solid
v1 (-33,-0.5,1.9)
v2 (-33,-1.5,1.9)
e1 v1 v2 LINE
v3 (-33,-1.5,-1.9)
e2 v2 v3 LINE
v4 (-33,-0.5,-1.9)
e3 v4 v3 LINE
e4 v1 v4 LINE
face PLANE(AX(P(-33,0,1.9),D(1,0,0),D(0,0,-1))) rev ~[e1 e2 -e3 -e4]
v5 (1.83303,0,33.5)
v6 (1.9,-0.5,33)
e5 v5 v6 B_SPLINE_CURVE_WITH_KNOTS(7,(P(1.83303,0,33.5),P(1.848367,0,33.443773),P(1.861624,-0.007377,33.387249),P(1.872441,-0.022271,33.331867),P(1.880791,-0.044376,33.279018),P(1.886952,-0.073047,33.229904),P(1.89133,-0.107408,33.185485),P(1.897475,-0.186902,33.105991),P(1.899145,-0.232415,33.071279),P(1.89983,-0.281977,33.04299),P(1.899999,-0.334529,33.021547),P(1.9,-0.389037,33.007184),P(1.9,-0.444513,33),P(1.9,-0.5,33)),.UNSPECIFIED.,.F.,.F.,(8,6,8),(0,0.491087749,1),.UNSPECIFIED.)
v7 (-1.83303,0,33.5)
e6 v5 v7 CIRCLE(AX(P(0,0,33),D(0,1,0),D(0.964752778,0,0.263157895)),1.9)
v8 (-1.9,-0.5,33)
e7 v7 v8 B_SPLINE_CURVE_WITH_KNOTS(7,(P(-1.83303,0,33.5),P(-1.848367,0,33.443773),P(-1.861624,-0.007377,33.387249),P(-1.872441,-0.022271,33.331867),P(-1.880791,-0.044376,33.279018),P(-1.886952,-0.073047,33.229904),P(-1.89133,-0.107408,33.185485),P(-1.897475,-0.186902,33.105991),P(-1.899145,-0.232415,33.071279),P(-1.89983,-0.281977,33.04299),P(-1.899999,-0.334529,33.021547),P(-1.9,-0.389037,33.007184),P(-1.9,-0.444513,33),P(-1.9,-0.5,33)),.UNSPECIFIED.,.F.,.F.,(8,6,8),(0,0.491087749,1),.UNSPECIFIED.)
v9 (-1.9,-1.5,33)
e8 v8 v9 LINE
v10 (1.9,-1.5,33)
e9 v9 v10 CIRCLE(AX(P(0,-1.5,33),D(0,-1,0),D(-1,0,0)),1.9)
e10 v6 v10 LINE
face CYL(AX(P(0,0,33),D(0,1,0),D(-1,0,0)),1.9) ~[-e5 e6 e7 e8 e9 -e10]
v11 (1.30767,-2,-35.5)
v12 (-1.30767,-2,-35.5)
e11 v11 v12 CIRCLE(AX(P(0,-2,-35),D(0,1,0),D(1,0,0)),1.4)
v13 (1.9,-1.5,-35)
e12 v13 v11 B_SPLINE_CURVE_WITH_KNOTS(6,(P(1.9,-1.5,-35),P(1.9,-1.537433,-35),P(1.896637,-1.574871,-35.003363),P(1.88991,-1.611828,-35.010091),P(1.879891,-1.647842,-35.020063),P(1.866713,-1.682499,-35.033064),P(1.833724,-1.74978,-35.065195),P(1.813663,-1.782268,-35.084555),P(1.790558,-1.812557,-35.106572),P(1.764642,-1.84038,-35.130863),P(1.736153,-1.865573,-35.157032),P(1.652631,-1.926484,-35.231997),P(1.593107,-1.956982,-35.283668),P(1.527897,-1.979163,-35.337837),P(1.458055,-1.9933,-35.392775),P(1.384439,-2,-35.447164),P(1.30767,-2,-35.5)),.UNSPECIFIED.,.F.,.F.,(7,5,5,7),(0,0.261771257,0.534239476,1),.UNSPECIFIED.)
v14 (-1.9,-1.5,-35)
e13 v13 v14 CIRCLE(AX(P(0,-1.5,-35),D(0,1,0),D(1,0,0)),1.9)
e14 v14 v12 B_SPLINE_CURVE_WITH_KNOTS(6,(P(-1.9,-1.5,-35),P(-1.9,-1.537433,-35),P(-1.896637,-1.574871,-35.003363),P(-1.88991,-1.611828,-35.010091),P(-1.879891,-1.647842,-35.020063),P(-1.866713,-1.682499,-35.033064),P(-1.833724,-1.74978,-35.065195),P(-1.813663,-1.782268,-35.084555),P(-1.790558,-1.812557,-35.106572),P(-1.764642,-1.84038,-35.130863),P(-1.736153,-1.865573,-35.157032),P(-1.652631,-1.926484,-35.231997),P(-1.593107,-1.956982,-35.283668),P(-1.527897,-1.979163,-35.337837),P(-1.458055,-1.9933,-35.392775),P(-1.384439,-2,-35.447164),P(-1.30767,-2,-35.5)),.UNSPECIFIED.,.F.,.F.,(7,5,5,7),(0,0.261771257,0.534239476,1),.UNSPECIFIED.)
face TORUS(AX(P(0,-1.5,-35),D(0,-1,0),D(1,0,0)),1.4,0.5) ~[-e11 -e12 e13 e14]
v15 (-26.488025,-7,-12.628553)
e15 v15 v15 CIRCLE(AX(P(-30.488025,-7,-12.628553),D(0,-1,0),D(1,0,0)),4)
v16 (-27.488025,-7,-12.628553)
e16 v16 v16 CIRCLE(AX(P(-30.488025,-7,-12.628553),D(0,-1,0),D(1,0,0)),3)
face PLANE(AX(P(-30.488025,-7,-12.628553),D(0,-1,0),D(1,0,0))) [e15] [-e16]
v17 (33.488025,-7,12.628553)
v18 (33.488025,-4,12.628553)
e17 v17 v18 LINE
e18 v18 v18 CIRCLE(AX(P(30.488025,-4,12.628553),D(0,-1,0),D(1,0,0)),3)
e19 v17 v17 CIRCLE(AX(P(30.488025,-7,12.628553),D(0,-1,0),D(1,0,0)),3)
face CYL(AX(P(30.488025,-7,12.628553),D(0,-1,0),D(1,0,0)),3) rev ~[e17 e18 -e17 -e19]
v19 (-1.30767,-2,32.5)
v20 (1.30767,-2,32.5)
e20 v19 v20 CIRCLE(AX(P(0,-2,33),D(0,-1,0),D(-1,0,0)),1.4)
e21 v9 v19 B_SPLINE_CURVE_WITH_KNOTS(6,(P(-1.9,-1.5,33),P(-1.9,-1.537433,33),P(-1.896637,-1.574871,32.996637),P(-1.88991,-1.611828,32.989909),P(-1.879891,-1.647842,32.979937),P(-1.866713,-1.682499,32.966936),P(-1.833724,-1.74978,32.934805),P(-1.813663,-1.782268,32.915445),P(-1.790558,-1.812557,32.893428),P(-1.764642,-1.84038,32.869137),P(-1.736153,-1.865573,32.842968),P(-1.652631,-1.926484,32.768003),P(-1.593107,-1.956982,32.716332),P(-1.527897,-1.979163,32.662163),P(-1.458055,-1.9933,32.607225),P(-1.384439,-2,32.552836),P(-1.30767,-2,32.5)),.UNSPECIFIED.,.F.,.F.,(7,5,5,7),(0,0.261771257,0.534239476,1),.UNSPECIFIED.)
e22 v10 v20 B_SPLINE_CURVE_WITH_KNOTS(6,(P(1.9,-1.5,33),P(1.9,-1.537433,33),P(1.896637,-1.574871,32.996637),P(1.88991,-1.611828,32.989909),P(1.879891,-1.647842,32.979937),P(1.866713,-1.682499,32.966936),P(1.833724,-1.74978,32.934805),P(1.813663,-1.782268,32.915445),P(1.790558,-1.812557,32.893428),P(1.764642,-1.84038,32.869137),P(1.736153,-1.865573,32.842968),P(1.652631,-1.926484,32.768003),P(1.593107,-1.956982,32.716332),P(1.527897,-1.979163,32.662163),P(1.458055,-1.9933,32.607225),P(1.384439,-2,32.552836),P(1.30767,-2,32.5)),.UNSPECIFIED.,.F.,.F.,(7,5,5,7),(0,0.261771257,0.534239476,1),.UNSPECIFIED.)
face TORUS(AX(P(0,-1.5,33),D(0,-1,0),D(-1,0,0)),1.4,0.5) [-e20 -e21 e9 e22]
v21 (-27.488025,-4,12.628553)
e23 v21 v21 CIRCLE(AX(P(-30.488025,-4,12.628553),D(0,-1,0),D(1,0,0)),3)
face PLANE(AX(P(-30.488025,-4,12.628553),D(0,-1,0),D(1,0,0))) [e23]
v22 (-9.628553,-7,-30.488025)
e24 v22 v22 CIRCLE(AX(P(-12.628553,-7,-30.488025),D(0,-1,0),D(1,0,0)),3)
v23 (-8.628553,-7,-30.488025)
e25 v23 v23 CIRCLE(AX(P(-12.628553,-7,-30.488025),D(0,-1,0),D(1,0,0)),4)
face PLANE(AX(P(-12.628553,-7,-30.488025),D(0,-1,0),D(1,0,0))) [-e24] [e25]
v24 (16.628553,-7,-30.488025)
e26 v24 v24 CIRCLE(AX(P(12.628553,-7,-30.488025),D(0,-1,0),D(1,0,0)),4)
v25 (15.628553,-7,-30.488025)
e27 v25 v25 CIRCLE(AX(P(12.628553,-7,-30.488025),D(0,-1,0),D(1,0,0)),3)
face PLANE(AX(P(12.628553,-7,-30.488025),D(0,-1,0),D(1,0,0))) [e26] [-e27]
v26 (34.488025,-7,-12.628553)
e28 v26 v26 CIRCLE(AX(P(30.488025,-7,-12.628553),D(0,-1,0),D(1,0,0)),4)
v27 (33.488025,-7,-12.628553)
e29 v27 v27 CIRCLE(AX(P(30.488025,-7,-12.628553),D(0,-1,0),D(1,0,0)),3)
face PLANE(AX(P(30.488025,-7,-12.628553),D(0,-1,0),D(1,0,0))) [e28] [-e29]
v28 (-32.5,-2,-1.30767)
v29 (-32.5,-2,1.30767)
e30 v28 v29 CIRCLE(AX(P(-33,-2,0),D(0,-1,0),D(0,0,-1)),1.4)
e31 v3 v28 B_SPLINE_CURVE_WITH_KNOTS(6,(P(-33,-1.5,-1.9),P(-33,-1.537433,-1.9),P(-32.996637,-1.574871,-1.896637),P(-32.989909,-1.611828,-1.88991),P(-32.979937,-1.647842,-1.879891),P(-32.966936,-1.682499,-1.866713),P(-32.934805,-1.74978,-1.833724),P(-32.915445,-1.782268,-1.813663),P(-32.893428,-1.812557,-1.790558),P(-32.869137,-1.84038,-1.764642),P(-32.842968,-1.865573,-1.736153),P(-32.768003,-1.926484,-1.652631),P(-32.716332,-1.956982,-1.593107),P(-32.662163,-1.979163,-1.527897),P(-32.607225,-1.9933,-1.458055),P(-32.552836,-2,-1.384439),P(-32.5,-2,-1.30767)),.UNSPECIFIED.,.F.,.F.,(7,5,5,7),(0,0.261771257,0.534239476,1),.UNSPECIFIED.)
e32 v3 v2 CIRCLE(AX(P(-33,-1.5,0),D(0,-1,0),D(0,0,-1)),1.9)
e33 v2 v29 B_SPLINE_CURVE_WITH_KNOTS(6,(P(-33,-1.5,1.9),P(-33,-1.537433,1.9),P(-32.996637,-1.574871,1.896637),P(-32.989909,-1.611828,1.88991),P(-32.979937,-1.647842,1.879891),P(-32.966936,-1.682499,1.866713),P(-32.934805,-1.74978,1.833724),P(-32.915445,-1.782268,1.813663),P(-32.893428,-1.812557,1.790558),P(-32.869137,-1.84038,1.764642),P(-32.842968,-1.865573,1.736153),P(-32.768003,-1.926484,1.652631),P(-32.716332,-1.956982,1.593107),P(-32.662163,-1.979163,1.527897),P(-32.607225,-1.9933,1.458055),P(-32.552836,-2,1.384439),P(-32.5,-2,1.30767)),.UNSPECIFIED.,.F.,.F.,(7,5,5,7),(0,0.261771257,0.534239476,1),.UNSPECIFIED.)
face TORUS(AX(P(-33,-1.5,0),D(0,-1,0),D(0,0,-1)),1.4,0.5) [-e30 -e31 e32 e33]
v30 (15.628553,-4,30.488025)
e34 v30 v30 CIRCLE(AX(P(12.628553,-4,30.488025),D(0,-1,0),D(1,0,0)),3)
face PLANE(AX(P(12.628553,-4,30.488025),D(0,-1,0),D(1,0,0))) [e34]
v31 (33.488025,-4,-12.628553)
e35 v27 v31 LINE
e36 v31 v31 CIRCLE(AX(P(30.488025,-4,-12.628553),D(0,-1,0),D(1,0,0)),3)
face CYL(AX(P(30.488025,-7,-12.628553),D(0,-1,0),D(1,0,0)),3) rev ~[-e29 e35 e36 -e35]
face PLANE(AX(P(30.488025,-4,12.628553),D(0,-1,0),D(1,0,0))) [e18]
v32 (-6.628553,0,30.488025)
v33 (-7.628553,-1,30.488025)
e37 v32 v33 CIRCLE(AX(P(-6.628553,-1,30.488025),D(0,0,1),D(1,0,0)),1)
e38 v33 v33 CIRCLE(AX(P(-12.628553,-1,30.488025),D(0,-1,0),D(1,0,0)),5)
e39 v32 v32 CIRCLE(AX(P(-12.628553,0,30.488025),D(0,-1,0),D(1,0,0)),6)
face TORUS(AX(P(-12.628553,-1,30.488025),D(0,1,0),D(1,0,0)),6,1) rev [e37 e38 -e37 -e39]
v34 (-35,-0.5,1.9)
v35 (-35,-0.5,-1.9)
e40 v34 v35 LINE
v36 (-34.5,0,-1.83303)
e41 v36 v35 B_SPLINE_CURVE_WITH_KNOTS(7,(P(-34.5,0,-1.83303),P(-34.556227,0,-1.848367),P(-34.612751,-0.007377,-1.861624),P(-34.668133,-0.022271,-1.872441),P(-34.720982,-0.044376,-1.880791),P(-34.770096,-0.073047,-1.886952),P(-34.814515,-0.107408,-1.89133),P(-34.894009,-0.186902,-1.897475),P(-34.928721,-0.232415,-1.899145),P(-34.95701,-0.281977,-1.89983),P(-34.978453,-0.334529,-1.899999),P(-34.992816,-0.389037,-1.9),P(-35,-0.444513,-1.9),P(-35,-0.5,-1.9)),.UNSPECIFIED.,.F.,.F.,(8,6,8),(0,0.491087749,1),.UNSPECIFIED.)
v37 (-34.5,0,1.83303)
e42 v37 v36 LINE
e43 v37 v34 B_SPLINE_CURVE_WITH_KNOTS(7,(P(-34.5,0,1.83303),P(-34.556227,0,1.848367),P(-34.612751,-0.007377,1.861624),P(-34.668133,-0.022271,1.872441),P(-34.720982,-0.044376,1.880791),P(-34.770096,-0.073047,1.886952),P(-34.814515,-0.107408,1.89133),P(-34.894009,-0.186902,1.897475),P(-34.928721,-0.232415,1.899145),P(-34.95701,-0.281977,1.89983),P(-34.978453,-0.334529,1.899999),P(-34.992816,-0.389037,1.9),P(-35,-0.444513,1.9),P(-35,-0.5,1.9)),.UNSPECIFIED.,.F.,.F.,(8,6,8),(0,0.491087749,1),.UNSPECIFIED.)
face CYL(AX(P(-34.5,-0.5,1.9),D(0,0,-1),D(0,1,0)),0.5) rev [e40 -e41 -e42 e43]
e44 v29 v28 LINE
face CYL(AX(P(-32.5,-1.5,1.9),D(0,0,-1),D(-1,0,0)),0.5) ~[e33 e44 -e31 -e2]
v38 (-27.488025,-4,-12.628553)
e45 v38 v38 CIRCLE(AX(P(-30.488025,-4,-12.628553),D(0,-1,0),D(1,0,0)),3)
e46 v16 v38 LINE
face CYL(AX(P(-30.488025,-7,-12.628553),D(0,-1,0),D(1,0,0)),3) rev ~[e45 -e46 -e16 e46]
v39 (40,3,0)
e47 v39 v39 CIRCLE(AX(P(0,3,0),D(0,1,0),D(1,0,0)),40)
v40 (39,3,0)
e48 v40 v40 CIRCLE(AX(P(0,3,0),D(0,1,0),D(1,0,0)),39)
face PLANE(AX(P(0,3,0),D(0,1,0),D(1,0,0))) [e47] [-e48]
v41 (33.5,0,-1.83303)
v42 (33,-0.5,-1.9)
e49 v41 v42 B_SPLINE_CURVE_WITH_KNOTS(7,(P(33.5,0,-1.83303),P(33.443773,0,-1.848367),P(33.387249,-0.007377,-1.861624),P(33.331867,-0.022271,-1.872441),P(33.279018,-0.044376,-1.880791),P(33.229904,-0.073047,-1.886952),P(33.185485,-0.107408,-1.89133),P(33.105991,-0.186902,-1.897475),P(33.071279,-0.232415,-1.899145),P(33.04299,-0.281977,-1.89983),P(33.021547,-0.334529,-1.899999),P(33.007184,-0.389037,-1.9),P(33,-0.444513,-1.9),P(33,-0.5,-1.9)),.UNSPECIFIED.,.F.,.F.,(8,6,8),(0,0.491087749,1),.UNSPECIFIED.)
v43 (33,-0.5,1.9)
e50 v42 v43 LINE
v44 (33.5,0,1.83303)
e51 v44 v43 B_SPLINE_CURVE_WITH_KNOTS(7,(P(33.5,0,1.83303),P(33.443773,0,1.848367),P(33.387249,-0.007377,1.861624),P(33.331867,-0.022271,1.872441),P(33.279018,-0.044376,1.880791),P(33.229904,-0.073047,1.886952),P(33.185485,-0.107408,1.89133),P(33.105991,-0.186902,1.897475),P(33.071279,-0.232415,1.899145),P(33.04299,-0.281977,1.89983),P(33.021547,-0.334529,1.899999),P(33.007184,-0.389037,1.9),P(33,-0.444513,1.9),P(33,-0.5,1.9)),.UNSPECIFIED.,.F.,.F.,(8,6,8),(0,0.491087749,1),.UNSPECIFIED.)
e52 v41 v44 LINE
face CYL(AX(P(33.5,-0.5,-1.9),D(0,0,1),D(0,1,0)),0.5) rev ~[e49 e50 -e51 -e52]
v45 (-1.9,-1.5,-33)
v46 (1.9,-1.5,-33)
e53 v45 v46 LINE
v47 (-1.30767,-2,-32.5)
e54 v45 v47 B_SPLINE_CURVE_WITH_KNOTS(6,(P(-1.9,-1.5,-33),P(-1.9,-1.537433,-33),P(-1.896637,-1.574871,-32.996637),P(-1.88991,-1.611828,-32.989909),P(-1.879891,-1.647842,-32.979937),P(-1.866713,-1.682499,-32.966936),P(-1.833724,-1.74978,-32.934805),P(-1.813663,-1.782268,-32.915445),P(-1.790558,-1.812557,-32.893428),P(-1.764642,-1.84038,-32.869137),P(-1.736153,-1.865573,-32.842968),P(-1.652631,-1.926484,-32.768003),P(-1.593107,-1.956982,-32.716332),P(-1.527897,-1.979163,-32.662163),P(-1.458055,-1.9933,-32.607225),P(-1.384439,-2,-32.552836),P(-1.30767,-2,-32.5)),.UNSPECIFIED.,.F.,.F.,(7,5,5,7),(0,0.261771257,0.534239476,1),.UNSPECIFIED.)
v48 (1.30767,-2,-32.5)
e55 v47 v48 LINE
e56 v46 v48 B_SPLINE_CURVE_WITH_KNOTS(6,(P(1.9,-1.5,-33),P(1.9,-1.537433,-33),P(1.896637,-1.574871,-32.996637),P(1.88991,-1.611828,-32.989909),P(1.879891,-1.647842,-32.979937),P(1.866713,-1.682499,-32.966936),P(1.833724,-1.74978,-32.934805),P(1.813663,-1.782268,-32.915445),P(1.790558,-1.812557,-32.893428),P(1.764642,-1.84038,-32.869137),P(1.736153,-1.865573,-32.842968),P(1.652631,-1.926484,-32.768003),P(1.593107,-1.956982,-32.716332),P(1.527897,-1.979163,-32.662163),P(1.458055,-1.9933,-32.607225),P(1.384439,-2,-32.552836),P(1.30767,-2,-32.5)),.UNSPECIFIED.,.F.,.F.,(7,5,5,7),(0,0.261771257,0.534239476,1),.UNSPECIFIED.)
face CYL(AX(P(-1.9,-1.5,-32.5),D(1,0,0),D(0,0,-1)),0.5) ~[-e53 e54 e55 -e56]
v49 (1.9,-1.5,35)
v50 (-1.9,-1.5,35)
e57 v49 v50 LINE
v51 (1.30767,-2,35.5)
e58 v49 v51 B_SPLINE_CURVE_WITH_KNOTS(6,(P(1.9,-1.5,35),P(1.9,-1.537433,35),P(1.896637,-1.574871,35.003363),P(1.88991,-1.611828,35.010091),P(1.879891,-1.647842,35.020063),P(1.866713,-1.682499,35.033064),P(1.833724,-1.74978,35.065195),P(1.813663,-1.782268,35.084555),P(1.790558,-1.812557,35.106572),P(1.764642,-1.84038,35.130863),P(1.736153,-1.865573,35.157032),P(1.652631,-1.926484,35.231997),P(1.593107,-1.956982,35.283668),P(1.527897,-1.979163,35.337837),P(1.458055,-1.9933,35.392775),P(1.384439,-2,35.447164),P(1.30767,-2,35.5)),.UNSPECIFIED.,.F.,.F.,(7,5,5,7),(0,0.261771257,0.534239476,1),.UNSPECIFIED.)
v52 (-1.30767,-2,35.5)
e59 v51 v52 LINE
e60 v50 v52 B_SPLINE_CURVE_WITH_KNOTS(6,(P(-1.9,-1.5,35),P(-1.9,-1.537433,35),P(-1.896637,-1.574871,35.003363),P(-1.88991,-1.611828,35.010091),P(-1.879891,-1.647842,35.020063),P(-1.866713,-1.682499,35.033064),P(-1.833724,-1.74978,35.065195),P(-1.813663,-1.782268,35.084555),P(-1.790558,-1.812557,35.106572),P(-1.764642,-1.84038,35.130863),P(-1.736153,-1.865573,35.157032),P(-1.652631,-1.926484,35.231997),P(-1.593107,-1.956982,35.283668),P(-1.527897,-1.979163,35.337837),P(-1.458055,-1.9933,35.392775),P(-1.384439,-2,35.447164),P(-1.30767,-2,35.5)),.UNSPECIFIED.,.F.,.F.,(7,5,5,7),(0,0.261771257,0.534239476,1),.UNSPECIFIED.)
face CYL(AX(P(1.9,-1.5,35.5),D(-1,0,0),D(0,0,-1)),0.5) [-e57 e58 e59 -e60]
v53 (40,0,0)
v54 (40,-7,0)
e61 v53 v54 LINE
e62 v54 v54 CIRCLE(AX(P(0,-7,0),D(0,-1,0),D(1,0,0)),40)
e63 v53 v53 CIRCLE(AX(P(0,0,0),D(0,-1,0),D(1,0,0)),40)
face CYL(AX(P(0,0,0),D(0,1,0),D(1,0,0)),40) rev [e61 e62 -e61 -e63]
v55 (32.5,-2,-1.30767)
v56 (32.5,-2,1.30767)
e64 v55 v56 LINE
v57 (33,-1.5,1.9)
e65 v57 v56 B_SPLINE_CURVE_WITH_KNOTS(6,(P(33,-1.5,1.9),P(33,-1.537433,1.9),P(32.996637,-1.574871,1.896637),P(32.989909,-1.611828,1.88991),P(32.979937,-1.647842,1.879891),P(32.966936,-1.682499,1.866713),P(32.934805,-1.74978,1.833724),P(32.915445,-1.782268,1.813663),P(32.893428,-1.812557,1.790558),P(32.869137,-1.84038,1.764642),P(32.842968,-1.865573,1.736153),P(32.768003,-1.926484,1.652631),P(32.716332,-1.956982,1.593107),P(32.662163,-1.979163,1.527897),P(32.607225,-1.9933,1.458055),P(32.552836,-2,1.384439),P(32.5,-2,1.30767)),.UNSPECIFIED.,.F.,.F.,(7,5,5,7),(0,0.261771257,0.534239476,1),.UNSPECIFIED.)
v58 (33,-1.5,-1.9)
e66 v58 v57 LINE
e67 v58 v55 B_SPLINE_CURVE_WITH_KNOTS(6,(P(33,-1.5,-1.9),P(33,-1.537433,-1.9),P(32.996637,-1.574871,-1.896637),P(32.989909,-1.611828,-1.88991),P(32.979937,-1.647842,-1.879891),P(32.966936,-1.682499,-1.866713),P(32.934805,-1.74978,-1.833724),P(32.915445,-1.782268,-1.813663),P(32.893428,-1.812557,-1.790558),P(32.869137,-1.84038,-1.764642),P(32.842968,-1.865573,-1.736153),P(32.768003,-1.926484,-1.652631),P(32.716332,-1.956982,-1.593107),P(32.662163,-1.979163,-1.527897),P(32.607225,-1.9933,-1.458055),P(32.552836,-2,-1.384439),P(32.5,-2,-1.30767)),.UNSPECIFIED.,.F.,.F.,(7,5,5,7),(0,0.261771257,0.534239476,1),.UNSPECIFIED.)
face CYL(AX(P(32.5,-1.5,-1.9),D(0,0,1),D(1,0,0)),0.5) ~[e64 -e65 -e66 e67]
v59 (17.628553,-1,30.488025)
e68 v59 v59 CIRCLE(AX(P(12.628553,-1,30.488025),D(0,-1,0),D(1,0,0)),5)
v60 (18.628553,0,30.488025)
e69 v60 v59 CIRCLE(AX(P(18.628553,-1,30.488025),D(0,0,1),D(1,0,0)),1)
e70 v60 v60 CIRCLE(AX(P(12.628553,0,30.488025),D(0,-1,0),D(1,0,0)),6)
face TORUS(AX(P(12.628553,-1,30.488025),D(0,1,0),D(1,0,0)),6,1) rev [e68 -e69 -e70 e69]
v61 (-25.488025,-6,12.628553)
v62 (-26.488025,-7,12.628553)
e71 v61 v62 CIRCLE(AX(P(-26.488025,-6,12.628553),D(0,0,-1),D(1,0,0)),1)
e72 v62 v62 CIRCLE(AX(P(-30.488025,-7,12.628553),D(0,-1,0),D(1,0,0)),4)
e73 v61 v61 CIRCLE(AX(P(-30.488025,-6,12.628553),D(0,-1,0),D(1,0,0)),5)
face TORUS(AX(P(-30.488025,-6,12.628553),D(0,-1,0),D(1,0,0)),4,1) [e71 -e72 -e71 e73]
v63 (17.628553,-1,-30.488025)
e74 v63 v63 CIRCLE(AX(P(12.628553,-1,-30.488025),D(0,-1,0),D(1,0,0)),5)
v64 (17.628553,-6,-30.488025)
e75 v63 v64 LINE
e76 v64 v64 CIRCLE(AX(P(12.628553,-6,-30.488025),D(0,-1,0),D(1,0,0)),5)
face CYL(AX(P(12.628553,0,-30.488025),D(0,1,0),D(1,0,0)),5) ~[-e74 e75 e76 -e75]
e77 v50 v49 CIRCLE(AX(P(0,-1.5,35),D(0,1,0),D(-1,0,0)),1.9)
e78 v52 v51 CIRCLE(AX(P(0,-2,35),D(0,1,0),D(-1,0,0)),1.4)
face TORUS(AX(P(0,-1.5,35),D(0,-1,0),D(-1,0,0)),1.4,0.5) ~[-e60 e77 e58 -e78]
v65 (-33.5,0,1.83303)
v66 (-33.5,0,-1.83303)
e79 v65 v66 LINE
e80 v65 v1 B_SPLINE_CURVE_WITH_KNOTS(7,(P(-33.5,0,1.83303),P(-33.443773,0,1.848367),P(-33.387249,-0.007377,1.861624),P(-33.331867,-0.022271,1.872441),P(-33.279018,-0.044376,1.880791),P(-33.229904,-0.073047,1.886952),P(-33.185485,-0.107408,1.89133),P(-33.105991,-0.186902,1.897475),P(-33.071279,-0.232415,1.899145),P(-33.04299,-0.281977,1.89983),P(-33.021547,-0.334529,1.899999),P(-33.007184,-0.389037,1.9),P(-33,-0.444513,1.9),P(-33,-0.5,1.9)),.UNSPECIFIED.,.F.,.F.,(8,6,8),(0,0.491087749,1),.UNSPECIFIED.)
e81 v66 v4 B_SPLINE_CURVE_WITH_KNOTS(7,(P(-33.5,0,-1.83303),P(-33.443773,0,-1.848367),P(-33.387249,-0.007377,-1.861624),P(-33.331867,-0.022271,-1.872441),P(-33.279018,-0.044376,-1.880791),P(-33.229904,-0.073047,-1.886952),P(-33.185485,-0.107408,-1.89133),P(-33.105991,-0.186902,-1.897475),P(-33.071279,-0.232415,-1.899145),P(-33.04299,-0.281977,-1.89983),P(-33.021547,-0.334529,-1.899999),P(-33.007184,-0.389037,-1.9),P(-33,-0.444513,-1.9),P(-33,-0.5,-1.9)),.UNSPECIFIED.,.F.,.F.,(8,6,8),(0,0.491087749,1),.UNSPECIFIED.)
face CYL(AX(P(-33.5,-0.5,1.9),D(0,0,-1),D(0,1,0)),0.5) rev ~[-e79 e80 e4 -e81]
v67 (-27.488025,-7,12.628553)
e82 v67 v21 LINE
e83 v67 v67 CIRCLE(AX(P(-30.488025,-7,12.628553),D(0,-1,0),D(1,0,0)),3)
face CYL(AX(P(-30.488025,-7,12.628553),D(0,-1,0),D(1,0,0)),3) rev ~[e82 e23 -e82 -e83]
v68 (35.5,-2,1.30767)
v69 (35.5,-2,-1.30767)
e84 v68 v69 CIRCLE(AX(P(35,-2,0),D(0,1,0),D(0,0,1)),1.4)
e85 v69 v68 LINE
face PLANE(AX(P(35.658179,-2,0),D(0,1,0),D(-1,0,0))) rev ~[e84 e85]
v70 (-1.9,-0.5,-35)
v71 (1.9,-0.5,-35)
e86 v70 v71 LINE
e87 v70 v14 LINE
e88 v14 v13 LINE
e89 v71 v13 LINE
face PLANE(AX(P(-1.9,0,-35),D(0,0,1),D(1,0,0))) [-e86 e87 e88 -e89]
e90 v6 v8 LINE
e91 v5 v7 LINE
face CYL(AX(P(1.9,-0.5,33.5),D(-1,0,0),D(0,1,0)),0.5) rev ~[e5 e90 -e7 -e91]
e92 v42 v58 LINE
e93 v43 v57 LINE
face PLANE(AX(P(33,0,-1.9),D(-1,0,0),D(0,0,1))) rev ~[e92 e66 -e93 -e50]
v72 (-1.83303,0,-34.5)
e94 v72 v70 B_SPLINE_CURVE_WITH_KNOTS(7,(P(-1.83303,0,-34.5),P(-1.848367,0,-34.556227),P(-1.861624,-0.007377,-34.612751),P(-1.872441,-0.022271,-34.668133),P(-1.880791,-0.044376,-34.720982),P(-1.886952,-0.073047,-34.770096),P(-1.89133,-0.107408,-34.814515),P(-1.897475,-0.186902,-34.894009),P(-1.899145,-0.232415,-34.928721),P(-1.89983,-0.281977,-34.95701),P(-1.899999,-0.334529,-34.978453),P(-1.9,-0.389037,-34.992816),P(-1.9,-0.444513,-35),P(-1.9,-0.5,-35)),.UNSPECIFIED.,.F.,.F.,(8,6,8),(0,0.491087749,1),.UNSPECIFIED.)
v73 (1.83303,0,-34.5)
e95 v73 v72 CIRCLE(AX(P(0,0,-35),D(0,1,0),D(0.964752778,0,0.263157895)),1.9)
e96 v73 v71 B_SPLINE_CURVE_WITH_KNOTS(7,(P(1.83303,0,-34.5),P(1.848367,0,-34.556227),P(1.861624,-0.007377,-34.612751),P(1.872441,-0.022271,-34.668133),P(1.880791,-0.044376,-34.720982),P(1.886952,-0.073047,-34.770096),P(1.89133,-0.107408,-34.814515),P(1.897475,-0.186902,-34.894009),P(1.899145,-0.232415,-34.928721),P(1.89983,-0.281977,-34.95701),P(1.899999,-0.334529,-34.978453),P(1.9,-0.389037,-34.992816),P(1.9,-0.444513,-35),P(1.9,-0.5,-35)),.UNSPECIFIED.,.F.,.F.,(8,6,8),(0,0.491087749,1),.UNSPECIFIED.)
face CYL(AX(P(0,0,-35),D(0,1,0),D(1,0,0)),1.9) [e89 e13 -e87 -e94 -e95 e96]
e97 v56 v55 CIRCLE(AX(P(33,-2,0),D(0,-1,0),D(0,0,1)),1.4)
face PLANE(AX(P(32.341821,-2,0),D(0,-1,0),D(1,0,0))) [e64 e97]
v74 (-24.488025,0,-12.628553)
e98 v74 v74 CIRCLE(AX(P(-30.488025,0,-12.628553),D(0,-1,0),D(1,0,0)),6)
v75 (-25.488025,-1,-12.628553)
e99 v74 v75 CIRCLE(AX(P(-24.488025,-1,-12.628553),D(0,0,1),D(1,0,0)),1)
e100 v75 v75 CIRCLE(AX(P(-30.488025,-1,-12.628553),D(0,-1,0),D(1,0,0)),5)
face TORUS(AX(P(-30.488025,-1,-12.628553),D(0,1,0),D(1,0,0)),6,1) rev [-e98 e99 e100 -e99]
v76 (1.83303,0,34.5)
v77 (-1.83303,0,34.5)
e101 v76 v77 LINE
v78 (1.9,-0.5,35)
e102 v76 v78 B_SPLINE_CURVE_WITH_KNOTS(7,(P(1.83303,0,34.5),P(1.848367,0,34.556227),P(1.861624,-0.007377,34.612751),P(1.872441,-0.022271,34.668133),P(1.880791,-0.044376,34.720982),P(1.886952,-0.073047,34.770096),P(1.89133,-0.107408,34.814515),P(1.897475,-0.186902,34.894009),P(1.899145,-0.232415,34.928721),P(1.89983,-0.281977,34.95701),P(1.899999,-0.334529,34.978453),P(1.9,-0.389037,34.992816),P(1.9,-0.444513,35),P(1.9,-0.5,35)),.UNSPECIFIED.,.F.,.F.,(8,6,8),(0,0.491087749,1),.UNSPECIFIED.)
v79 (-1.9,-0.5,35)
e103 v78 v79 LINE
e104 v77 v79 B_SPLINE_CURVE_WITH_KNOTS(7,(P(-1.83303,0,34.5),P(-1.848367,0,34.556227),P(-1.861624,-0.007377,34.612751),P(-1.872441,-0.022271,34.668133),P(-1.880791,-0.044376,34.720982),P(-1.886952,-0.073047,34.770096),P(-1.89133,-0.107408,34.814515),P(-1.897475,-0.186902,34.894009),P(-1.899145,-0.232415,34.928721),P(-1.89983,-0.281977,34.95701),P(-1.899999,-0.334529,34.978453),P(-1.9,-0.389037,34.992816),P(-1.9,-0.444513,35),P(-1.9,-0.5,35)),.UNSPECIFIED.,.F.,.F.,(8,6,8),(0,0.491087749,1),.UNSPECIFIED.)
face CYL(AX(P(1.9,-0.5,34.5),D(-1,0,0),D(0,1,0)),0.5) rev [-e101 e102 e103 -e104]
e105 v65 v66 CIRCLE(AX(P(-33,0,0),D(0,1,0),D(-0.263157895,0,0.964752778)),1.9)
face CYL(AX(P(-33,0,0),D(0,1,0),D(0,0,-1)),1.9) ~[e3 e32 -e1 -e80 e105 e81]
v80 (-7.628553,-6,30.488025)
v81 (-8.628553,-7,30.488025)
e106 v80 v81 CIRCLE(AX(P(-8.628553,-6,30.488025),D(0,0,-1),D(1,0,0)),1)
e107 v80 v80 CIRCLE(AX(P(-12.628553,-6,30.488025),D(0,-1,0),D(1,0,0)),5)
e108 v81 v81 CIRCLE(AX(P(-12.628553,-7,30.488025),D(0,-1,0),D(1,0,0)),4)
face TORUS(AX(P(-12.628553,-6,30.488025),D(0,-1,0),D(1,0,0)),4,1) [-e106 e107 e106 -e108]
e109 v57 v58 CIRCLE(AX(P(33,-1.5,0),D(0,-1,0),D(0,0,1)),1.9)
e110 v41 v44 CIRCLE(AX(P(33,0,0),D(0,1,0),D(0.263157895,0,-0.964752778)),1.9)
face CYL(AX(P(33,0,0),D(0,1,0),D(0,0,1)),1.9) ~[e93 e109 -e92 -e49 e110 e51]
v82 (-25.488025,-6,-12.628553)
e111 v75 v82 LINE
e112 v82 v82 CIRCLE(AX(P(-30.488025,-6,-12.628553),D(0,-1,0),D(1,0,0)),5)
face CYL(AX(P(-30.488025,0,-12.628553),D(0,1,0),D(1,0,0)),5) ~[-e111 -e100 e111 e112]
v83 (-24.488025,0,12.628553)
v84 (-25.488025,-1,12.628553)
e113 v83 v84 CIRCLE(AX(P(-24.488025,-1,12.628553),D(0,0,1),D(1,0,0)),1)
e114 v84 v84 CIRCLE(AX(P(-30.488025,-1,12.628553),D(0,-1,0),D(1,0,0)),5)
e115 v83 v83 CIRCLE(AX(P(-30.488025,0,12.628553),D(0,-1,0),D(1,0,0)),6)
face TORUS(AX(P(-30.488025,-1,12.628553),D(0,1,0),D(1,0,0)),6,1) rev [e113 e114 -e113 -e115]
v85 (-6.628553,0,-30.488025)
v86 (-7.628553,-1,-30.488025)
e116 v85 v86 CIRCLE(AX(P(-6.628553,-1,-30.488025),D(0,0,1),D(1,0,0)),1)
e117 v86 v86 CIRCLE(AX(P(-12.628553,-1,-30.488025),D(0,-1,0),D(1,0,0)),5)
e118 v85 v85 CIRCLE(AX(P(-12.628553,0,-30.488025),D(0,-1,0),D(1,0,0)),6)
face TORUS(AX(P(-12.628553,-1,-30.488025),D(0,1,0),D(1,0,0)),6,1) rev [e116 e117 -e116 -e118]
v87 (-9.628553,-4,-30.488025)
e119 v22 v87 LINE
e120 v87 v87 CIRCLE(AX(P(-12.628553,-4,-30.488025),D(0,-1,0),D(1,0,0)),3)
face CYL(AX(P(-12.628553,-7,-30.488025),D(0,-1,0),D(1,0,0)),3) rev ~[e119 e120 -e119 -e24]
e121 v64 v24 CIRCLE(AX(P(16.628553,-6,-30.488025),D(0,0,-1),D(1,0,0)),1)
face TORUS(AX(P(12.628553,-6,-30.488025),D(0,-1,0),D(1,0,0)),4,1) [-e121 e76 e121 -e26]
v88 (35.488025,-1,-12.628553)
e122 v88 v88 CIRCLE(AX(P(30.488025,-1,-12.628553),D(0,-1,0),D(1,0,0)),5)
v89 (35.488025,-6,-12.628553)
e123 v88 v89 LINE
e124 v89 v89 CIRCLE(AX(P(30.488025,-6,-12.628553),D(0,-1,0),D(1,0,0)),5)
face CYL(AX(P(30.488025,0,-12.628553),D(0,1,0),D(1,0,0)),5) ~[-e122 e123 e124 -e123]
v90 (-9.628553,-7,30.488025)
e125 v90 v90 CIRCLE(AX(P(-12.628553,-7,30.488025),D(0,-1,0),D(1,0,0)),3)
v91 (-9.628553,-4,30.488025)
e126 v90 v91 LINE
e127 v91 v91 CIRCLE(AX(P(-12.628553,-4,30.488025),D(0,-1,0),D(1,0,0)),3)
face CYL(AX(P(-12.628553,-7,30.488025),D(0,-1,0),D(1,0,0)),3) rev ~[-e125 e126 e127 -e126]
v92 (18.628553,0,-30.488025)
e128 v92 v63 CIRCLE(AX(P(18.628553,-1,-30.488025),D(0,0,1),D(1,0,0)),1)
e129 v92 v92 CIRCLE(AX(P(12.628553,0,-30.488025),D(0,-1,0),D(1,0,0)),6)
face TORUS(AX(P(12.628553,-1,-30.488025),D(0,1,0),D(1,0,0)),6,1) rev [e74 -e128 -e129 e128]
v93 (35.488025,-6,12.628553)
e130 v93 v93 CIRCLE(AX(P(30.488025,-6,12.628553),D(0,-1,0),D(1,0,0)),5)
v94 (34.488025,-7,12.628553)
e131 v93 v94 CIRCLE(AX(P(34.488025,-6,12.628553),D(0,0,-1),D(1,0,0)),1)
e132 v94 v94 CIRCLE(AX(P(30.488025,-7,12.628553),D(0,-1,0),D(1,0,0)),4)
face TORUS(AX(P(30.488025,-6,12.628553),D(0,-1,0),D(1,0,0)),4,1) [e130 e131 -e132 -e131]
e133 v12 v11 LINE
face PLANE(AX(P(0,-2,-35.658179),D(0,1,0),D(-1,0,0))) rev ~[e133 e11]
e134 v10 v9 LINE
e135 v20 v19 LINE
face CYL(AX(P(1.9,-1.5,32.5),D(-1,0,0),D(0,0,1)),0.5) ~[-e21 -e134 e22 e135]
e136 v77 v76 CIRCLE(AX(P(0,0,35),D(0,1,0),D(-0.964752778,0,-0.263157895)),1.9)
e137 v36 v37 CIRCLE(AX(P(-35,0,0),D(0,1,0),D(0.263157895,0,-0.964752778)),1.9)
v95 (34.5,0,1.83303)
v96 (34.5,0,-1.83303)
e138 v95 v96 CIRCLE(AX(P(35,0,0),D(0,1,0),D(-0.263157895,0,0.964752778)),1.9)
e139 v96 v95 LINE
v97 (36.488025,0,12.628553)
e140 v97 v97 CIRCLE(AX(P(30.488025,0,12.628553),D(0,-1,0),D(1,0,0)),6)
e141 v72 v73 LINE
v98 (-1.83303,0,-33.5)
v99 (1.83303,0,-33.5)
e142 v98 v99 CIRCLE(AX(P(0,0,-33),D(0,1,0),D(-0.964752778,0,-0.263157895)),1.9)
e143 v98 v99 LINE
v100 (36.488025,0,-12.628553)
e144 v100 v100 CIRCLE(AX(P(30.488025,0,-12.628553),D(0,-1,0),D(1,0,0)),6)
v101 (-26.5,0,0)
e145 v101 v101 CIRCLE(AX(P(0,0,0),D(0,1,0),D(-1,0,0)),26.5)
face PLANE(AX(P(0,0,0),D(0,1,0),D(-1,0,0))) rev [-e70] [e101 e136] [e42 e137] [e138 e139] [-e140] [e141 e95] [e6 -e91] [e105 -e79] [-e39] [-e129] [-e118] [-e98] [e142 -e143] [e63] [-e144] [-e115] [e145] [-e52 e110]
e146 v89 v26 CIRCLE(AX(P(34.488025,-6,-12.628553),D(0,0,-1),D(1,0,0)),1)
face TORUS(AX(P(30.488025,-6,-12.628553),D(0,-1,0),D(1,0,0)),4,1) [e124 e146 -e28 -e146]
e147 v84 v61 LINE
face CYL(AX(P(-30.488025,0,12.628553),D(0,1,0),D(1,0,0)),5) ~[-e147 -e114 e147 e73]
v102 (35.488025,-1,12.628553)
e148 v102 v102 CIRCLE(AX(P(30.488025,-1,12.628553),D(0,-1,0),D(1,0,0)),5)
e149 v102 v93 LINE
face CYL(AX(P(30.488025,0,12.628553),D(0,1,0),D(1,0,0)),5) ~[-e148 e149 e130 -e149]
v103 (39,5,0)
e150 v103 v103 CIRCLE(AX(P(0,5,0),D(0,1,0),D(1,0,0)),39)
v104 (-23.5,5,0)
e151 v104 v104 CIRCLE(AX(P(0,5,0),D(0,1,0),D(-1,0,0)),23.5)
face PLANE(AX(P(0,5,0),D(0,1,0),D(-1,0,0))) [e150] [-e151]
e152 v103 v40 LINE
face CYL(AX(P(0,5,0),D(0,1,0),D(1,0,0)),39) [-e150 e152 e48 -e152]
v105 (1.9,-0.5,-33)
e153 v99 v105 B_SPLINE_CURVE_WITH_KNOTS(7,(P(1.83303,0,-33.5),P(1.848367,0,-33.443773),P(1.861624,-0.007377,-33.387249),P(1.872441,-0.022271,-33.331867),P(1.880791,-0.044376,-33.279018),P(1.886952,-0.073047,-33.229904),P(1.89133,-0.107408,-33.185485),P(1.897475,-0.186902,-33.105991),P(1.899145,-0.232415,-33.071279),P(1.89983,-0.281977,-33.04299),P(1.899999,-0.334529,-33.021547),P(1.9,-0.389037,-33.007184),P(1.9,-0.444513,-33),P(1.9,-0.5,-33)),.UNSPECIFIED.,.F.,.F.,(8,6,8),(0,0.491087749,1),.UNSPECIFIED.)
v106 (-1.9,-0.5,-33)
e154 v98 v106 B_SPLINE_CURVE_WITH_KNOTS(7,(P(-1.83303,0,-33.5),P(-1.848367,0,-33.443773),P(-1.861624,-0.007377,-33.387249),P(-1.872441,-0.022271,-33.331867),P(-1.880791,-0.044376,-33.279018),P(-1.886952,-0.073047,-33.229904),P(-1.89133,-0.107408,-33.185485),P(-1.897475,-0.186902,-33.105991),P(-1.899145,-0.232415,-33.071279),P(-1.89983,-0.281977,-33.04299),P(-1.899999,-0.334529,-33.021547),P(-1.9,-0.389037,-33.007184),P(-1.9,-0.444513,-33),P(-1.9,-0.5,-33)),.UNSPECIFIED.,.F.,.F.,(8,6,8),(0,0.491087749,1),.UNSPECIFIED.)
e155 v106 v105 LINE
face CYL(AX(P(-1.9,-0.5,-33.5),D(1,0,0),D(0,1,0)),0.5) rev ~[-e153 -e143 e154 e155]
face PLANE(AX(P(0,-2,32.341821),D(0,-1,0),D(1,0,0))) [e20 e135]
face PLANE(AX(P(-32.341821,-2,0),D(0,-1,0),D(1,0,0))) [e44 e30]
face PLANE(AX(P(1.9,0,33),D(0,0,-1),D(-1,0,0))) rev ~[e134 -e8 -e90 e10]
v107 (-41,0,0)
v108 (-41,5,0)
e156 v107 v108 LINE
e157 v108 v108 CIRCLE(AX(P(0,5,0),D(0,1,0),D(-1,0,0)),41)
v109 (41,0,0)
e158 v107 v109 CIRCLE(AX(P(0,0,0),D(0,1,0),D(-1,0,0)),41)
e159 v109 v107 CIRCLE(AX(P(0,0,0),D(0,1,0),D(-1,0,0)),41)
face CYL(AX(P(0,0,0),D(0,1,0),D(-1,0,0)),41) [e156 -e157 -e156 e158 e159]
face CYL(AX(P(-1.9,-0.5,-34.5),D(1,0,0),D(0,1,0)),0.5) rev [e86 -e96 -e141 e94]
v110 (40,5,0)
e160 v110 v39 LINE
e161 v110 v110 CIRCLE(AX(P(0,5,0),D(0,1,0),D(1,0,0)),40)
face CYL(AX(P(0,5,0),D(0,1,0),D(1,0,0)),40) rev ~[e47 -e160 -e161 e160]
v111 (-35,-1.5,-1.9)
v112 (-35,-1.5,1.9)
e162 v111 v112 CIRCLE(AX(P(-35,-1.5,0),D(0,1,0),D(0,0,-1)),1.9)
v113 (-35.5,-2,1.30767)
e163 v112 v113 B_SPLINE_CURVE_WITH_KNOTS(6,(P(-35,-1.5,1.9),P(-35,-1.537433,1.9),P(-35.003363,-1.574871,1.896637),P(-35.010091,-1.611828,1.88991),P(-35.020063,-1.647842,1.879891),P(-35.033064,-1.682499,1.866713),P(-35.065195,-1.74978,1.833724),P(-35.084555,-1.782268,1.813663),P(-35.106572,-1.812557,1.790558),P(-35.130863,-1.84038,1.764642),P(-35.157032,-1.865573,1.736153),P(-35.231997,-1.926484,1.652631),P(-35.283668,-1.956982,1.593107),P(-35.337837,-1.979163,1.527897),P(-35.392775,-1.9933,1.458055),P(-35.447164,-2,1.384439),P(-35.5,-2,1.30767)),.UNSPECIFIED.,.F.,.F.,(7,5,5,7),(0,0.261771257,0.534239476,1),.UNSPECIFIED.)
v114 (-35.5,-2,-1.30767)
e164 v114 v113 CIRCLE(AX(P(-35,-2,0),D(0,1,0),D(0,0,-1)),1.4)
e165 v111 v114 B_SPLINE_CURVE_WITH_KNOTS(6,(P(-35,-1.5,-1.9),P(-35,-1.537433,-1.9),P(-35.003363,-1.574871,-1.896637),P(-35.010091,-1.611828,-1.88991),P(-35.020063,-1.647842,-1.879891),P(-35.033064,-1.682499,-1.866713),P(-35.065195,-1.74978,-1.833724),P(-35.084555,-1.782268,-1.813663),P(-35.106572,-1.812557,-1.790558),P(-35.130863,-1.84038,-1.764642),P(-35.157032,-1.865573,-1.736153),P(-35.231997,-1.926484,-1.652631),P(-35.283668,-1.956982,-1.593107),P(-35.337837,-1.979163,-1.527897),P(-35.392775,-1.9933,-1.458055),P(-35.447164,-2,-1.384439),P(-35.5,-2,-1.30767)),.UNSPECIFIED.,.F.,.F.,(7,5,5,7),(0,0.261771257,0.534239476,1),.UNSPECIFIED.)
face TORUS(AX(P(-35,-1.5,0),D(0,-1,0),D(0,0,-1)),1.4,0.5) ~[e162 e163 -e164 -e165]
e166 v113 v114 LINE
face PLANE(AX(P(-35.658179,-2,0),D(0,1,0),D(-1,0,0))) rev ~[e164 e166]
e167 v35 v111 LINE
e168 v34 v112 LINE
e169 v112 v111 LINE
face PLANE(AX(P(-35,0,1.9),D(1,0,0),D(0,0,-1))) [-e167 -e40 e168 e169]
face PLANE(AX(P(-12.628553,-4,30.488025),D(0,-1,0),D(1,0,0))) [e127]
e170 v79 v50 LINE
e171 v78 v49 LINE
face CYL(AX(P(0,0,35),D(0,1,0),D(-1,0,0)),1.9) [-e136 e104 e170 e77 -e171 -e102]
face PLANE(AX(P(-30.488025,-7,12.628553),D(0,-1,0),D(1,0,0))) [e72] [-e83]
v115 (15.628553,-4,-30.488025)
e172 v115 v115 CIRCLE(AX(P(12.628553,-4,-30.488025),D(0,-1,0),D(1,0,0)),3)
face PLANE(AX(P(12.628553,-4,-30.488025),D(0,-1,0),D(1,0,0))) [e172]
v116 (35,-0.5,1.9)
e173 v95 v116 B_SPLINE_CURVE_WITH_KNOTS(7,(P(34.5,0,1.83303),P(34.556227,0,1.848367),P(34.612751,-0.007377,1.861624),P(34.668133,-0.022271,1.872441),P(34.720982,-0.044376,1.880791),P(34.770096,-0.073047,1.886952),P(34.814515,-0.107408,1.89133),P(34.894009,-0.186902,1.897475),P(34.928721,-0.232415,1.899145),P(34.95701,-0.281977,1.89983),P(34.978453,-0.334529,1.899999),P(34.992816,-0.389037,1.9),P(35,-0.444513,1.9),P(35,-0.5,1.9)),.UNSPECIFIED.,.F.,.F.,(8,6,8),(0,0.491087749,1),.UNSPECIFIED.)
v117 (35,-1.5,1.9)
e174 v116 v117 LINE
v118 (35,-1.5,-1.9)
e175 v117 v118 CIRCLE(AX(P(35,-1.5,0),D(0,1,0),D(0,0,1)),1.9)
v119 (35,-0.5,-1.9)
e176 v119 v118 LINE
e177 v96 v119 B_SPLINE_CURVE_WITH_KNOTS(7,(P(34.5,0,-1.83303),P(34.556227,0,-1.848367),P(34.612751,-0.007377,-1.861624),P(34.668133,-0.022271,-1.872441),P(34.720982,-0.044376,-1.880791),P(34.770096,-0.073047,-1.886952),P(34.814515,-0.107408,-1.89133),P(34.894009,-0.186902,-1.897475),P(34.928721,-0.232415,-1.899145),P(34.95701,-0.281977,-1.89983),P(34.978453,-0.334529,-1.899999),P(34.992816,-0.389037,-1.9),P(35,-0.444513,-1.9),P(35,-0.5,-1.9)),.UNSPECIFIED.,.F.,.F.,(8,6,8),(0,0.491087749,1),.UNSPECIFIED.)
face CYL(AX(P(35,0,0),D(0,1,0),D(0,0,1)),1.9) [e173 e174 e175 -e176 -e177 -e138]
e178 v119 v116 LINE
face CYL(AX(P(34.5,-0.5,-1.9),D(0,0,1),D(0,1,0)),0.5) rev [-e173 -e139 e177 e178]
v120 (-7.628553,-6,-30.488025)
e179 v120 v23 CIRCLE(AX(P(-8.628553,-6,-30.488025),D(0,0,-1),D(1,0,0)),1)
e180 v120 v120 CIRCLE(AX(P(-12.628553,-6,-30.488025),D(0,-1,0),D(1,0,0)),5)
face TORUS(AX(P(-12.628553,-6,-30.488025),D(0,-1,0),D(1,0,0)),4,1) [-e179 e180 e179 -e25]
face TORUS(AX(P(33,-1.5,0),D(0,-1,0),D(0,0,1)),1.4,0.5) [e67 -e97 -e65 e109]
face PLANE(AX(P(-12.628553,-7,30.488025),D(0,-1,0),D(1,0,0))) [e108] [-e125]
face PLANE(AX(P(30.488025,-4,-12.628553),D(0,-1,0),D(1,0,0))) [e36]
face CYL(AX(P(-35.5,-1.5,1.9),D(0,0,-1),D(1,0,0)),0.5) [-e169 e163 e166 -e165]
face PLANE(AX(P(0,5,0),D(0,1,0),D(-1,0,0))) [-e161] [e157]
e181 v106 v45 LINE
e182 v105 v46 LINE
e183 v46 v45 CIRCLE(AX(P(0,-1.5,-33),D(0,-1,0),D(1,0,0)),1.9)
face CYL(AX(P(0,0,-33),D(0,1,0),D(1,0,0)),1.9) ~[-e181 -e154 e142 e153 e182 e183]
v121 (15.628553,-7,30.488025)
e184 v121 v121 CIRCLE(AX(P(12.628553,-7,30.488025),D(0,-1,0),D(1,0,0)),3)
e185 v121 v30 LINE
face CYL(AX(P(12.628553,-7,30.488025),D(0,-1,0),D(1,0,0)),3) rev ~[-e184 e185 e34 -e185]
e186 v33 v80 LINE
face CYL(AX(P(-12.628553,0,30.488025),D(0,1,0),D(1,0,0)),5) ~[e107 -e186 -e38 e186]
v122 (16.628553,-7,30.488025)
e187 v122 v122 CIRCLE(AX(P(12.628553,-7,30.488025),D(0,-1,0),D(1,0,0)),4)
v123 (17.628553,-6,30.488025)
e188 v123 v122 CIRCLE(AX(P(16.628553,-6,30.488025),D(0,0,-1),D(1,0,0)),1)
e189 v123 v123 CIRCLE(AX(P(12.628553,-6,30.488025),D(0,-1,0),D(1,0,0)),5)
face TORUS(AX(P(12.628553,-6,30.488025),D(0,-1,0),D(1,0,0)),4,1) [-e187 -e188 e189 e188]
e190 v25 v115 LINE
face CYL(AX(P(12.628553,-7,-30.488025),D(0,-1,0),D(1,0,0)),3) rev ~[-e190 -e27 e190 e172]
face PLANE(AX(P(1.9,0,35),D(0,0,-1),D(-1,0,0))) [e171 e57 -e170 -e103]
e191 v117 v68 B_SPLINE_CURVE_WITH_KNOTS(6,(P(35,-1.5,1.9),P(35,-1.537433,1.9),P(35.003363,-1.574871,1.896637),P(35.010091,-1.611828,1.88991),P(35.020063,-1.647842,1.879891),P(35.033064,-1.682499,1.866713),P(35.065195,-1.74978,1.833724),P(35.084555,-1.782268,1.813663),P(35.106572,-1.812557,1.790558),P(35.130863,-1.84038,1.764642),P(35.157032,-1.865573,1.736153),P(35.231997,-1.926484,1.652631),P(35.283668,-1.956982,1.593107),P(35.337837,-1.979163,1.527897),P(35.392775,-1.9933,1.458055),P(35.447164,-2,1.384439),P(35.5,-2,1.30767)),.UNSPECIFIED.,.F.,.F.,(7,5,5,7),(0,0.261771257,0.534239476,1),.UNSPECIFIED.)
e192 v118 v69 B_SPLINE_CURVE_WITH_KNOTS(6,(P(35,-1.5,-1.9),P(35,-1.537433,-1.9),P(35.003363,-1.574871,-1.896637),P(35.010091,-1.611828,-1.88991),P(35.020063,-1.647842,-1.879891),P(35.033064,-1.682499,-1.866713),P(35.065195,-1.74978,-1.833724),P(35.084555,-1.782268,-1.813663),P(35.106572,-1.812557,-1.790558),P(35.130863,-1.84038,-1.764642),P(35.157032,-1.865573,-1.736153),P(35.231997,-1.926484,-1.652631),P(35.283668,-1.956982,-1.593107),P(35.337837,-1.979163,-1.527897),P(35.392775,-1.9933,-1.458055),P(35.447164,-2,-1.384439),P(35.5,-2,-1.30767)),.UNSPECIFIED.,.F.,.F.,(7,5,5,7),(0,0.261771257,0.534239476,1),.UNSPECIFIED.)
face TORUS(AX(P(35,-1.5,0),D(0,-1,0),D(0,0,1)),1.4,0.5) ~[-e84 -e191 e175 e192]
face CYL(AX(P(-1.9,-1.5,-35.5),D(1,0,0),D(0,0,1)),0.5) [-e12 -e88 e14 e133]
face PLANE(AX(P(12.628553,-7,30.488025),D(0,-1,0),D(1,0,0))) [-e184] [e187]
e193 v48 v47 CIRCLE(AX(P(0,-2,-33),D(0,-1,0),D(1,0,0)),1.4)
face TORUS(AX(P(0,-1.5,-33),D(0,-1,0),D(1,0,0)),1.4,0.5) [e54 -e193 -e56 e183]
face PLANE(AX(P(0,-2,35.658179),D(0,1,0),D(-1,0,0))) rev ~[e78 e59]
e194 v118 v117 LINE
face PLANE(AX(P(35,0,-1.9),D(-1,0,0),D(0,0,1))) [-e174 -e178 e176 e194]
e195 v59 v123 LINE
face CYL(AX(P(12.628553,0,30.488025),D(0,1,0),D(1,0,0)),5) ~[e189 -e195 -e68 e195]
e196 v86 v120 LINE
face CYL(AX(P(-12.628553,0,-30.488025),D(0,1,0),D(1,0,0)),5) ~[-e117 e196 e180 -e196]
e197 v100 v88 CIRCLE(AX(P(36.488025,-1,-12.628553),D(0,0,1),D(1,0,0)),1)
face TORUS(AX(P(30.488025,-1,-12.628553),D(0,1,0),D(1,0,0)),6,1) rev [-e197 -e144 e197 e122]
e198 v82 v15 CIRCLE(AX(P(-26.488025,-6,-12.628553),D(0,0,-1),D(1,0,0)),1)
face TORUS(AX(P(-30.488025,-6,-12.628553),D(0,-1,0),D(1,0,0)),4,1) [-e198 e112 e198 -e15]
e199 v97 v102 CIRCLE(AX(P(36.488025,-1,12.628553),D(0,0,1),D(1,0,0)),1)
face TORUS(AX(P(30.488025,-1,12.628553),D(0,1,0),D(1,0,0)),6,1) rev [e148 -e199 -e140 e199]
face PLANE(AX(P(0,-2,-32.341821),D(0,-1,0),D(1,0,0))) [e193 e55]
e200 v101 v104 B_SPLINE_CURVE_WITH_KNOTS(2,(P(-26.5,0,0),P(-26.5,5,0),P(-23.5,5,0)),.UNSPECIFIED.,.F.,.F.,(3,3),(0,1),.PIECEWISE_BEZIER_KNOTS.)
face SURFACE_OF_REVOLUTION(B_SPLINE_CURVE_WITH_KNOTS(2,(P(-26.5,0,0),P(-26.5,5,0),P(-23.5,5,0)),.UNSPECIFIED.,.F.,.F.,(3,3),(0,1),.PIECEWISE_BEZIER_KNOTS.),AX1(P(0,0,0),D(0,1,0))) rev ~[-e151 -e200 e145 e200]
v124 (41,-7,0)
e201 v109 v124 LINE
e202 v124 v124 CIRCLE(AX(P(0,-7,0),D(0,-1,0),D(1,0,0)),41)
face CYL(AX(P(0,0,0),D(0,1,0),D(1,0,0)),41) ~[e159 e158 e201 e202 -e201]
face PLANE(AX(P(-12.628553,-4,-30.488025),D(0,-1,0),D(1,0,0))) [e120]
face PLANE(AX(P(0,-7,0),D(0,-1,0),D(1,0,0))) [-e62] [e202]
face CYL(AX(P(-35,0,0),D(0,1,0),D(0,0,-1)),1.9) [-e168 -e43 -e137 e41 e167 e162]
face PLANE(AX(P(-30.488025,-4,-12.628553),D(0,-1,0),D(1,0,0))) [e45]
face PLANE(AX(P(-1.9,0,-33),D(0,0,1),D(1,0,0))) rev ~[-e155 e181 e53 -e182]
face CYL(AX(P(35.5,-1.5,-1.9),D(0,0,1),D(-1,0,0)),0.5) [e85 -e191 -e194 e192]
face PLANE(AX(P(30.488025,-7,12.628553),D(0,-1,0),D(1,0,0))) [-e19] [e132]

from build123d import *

# Parameters (mm, degrees)
BOSS_EXTRUDE1_DEPTH     = 2
FILLET1_R               = 0.5
SKETCH5_R               = 41
SKETCH5_R_2             = 40
EXTRUDE_THIN1_DEPTH     = 7
SKETCH13_R              = 40
SKETCH13_R_2            = 39
CUT_EXTRUDE_THIN2_DEPTH = 2
SKETCH14_R              = 5
BOSS_EXTRUDE2_DEPTH     = 7
SKETCH15_R              = 3
CUT_EXTRUDE1_DEPTH      = 3
FILLET2_R               = 1


with BuildPart() as part:
    # Sketch3 → Revolve1 (revolve)
    with BuildSketch(Plane.XY):
        with BuildLine():
            Line((-26.5, 0), (-41, 0))
            Line((-41, 0), (-41, 5))
            Line((-41, 5), (-23.5, 5))
            add(Edge.make_bspline(
                [(-26.5, 0), (-26.5, 5), (-23.5, 5)],
                knots=[0, 0, 0, 1, 1, 1], degree=2))
        make_face()
    revolve(axis=Axis((0, 0, 0), (0, 1, 0)))

    # Sketch4 → Boss-Extrude1 (add)
    with BuildSketch(Plane.XZ):
        with BuildLine():
            Line((-33, 1.9), (-33, -1.9))
            ThreePointArc((-33, -1.9), (-31.1, 0), (-33, 1.9))
        make_face()
        with BuildLine():
            Line((-35, 1.9), (-35, -1.9))
            ThreePointArc((-35, -1.9), (-36.9, 0), (-35, 1.9))
        make_face()
        with BuildLine():
            Line((1.9, 33), (-1.9, 33))
            ThreePointArc((-1.9, 33), (0, 31.1), (1.9, 33))
        make_face()
        with BuildLine():
            Line((1.9, 35), (-1.9, 35))
            ThreePointArc((-1.9, 35), (0, 36.9), (1.9, 35))
        make_face()
        with BuildLine():
            Line((33, -1.9), (33, 1.9))
            ThreePointArc((33, 1.9), (31.1, 0), (33, -1.9))
        make_face()
        with BuildLine():
            Line((35, -1.9), (35, 1.9))
            ThreePointArc((35, 1.9), (36.9, 0), (35, -1.9))
        make_face()
        with BuildLine():
            Line((-1.9, -33), (1.9, -33))
            ThreePointArc((1.9, -33), (0, -31.1), (-1.9, -33))
        make_face()
        with BuildLine():
            Line((-1.9, -35), (1.9, -35))
            ThreePointArc((1.9, -35), (0, -36.9), (-1.9, -35))
        make_face()
    extrude(amount=BOSS_EXTRUDE1_DEPTH)

    # Fillet1
    fillet1_edges = [part.edges().sort_by_distance(p)[0] for p in [
        (-35, 0, 0),
        (-36.9, -2, 0),
        (-35, -2, 0),
        (-33, 0, 0),
        (-31.1, -2, 0),
        (-33, -2, 0),
        (0, 0, 35),
        (0, -2, 36.9),
        (0, -2, 35),
        (0, 0, 33),
        (0, -2, 31.1),
        (0, -2, 33),
        (35, 0, 0),
        (36.9, -2, 0),
        (35, -2, 0),
        (33, 0, 0),
        (31.1, -2, 0),
        (33, -2, 0),
        (0, 0, -35),
        (0, -2, -36.9),
        (0, -2, -35),
        (0, 0, -33),
        (0, -2, -31.1),
        (0, -2, -33),
    ]]
    fillet(fillet1_edges, radius=FILLET1_R)

    # Sketch5 → Extrude-Thin1 (add)
    with BuildSketch(Plane.XZ):
        Circle(SKETCH5_R)
        Circle(SKETCH5_R_2, mode=Mode.SUBTRACT)
    extrude(amount=EXTRUDE_THIN1_DEPTH)

    # Sketch13 → Cut-Extrude-Thin2 (cut)
    with BuildSketch(Plane(origin=(0, 5, 0), x_dir=(1, 0, 0), z_dir=(0, 1, 0))):
        Circle(SKETCH13_R)
        Circle(SKETCH13_R_2, mode=Mode.SUBTRACT)
    extrude(amount=-CUT_EXTRUDE_THIN2_DEPTH, mode=Mode.SUBTRACT)

    # Sketch14 → Boss-Extrude2 (add)
    with BuildSketch(Plane.XZ):
        with Locations((12.628553268, -30.488024573)):
            Circle(SKETCH14_R)
        with Locations((-12.628553268, -30.488024573)):
            Circle(SKETCH14_R)
        with Locations((-30.488024573, -12.628553268)):
            Circle(SKETCH14_R)
        with Locations((-30.488024573, 12.628553268)):
            Circle(SKETCH14_R)
        with Locations((-12.628553268, 30.488024573)):
            Circle(SKETCH14_R)
        with Locations((12.628553268, 30.488024573)):
            Circle(SKETCH14_R)
        with Locations((30.488024573, 12.628553268)):
            Circle(SKETCH14_R)
        with Locations((30.488024573, -12.628553268)):
            Circle(SKETCH14_R)
    extrude(amount=BOSS_EXTRUDE2_DEPTH)

    # Sketch15 → Cut-Extrude1 (cut)
    with BuildSketch(Plane.XZ.offset(7)):
        with Locations((-12.628553268, -30.488024573)):
            Circle(SKETCH15_R)
        with Locations((-30.488024573, -12.628553268)):
            Circle(SKETCH15_R)
        with Locations((-30.488024573, 12.628553268)):
            Circle(SKETCH15_R)
        with Locations((-12.628553268, 30.488024573)):
            Circle(SKETCH15_R)
        with Locations((12.628553268, 30.488024573)):
            Circle(SKETCH15_R)
        with Locations((30.488024573, 12.628553268)):
            Circle(SKETCH15_R)
        with Locations((30.488024573, -12.628553268)):
            Circle(SKETCH15_R)
        with Locations((12.628553268, -30.488024573)):
            Circle(SKETCH15_R)
    extrude(amount=-CUT_EXTRUDE1_DEPTH, mode=Mode.SUBTRACT)

    # Fillet2
    fillet2_edges = [part.edges().sort_by_distance(p)[0] for p in [
        (7.628553268, 0, -30.488024573),
        (7.628553268, -7, -30.488024573),
        (-17.628553268, 0, -30.488024573),
        (-17.628553268, -7, -30.488024573),
        (-35.488024573, 0, -12.628553268),
        (-35.488024573, -7, -12.628553268),
        (-35.488024573, 0, 12.628553268),
        (-35.488024573, -7, 12.628553268),
        (-17.628553268, 0, 30.488024573),
        (-17.628553268, -7, 30.488024573),
        (7.628553268, 0, 30.488024573),
        (7.628553268, -7, 30.488024573),
        (25.488024573, 0, 12.628553268),
        (25.488024573, -7, 12.628553268),
        (25.488024573, 0, -12.628553268),
        (25.488024573, -7, -12.628553268),
    ]]
    fillet(fillet2_edges, radius=FILLET2_R)


solid = part.part
